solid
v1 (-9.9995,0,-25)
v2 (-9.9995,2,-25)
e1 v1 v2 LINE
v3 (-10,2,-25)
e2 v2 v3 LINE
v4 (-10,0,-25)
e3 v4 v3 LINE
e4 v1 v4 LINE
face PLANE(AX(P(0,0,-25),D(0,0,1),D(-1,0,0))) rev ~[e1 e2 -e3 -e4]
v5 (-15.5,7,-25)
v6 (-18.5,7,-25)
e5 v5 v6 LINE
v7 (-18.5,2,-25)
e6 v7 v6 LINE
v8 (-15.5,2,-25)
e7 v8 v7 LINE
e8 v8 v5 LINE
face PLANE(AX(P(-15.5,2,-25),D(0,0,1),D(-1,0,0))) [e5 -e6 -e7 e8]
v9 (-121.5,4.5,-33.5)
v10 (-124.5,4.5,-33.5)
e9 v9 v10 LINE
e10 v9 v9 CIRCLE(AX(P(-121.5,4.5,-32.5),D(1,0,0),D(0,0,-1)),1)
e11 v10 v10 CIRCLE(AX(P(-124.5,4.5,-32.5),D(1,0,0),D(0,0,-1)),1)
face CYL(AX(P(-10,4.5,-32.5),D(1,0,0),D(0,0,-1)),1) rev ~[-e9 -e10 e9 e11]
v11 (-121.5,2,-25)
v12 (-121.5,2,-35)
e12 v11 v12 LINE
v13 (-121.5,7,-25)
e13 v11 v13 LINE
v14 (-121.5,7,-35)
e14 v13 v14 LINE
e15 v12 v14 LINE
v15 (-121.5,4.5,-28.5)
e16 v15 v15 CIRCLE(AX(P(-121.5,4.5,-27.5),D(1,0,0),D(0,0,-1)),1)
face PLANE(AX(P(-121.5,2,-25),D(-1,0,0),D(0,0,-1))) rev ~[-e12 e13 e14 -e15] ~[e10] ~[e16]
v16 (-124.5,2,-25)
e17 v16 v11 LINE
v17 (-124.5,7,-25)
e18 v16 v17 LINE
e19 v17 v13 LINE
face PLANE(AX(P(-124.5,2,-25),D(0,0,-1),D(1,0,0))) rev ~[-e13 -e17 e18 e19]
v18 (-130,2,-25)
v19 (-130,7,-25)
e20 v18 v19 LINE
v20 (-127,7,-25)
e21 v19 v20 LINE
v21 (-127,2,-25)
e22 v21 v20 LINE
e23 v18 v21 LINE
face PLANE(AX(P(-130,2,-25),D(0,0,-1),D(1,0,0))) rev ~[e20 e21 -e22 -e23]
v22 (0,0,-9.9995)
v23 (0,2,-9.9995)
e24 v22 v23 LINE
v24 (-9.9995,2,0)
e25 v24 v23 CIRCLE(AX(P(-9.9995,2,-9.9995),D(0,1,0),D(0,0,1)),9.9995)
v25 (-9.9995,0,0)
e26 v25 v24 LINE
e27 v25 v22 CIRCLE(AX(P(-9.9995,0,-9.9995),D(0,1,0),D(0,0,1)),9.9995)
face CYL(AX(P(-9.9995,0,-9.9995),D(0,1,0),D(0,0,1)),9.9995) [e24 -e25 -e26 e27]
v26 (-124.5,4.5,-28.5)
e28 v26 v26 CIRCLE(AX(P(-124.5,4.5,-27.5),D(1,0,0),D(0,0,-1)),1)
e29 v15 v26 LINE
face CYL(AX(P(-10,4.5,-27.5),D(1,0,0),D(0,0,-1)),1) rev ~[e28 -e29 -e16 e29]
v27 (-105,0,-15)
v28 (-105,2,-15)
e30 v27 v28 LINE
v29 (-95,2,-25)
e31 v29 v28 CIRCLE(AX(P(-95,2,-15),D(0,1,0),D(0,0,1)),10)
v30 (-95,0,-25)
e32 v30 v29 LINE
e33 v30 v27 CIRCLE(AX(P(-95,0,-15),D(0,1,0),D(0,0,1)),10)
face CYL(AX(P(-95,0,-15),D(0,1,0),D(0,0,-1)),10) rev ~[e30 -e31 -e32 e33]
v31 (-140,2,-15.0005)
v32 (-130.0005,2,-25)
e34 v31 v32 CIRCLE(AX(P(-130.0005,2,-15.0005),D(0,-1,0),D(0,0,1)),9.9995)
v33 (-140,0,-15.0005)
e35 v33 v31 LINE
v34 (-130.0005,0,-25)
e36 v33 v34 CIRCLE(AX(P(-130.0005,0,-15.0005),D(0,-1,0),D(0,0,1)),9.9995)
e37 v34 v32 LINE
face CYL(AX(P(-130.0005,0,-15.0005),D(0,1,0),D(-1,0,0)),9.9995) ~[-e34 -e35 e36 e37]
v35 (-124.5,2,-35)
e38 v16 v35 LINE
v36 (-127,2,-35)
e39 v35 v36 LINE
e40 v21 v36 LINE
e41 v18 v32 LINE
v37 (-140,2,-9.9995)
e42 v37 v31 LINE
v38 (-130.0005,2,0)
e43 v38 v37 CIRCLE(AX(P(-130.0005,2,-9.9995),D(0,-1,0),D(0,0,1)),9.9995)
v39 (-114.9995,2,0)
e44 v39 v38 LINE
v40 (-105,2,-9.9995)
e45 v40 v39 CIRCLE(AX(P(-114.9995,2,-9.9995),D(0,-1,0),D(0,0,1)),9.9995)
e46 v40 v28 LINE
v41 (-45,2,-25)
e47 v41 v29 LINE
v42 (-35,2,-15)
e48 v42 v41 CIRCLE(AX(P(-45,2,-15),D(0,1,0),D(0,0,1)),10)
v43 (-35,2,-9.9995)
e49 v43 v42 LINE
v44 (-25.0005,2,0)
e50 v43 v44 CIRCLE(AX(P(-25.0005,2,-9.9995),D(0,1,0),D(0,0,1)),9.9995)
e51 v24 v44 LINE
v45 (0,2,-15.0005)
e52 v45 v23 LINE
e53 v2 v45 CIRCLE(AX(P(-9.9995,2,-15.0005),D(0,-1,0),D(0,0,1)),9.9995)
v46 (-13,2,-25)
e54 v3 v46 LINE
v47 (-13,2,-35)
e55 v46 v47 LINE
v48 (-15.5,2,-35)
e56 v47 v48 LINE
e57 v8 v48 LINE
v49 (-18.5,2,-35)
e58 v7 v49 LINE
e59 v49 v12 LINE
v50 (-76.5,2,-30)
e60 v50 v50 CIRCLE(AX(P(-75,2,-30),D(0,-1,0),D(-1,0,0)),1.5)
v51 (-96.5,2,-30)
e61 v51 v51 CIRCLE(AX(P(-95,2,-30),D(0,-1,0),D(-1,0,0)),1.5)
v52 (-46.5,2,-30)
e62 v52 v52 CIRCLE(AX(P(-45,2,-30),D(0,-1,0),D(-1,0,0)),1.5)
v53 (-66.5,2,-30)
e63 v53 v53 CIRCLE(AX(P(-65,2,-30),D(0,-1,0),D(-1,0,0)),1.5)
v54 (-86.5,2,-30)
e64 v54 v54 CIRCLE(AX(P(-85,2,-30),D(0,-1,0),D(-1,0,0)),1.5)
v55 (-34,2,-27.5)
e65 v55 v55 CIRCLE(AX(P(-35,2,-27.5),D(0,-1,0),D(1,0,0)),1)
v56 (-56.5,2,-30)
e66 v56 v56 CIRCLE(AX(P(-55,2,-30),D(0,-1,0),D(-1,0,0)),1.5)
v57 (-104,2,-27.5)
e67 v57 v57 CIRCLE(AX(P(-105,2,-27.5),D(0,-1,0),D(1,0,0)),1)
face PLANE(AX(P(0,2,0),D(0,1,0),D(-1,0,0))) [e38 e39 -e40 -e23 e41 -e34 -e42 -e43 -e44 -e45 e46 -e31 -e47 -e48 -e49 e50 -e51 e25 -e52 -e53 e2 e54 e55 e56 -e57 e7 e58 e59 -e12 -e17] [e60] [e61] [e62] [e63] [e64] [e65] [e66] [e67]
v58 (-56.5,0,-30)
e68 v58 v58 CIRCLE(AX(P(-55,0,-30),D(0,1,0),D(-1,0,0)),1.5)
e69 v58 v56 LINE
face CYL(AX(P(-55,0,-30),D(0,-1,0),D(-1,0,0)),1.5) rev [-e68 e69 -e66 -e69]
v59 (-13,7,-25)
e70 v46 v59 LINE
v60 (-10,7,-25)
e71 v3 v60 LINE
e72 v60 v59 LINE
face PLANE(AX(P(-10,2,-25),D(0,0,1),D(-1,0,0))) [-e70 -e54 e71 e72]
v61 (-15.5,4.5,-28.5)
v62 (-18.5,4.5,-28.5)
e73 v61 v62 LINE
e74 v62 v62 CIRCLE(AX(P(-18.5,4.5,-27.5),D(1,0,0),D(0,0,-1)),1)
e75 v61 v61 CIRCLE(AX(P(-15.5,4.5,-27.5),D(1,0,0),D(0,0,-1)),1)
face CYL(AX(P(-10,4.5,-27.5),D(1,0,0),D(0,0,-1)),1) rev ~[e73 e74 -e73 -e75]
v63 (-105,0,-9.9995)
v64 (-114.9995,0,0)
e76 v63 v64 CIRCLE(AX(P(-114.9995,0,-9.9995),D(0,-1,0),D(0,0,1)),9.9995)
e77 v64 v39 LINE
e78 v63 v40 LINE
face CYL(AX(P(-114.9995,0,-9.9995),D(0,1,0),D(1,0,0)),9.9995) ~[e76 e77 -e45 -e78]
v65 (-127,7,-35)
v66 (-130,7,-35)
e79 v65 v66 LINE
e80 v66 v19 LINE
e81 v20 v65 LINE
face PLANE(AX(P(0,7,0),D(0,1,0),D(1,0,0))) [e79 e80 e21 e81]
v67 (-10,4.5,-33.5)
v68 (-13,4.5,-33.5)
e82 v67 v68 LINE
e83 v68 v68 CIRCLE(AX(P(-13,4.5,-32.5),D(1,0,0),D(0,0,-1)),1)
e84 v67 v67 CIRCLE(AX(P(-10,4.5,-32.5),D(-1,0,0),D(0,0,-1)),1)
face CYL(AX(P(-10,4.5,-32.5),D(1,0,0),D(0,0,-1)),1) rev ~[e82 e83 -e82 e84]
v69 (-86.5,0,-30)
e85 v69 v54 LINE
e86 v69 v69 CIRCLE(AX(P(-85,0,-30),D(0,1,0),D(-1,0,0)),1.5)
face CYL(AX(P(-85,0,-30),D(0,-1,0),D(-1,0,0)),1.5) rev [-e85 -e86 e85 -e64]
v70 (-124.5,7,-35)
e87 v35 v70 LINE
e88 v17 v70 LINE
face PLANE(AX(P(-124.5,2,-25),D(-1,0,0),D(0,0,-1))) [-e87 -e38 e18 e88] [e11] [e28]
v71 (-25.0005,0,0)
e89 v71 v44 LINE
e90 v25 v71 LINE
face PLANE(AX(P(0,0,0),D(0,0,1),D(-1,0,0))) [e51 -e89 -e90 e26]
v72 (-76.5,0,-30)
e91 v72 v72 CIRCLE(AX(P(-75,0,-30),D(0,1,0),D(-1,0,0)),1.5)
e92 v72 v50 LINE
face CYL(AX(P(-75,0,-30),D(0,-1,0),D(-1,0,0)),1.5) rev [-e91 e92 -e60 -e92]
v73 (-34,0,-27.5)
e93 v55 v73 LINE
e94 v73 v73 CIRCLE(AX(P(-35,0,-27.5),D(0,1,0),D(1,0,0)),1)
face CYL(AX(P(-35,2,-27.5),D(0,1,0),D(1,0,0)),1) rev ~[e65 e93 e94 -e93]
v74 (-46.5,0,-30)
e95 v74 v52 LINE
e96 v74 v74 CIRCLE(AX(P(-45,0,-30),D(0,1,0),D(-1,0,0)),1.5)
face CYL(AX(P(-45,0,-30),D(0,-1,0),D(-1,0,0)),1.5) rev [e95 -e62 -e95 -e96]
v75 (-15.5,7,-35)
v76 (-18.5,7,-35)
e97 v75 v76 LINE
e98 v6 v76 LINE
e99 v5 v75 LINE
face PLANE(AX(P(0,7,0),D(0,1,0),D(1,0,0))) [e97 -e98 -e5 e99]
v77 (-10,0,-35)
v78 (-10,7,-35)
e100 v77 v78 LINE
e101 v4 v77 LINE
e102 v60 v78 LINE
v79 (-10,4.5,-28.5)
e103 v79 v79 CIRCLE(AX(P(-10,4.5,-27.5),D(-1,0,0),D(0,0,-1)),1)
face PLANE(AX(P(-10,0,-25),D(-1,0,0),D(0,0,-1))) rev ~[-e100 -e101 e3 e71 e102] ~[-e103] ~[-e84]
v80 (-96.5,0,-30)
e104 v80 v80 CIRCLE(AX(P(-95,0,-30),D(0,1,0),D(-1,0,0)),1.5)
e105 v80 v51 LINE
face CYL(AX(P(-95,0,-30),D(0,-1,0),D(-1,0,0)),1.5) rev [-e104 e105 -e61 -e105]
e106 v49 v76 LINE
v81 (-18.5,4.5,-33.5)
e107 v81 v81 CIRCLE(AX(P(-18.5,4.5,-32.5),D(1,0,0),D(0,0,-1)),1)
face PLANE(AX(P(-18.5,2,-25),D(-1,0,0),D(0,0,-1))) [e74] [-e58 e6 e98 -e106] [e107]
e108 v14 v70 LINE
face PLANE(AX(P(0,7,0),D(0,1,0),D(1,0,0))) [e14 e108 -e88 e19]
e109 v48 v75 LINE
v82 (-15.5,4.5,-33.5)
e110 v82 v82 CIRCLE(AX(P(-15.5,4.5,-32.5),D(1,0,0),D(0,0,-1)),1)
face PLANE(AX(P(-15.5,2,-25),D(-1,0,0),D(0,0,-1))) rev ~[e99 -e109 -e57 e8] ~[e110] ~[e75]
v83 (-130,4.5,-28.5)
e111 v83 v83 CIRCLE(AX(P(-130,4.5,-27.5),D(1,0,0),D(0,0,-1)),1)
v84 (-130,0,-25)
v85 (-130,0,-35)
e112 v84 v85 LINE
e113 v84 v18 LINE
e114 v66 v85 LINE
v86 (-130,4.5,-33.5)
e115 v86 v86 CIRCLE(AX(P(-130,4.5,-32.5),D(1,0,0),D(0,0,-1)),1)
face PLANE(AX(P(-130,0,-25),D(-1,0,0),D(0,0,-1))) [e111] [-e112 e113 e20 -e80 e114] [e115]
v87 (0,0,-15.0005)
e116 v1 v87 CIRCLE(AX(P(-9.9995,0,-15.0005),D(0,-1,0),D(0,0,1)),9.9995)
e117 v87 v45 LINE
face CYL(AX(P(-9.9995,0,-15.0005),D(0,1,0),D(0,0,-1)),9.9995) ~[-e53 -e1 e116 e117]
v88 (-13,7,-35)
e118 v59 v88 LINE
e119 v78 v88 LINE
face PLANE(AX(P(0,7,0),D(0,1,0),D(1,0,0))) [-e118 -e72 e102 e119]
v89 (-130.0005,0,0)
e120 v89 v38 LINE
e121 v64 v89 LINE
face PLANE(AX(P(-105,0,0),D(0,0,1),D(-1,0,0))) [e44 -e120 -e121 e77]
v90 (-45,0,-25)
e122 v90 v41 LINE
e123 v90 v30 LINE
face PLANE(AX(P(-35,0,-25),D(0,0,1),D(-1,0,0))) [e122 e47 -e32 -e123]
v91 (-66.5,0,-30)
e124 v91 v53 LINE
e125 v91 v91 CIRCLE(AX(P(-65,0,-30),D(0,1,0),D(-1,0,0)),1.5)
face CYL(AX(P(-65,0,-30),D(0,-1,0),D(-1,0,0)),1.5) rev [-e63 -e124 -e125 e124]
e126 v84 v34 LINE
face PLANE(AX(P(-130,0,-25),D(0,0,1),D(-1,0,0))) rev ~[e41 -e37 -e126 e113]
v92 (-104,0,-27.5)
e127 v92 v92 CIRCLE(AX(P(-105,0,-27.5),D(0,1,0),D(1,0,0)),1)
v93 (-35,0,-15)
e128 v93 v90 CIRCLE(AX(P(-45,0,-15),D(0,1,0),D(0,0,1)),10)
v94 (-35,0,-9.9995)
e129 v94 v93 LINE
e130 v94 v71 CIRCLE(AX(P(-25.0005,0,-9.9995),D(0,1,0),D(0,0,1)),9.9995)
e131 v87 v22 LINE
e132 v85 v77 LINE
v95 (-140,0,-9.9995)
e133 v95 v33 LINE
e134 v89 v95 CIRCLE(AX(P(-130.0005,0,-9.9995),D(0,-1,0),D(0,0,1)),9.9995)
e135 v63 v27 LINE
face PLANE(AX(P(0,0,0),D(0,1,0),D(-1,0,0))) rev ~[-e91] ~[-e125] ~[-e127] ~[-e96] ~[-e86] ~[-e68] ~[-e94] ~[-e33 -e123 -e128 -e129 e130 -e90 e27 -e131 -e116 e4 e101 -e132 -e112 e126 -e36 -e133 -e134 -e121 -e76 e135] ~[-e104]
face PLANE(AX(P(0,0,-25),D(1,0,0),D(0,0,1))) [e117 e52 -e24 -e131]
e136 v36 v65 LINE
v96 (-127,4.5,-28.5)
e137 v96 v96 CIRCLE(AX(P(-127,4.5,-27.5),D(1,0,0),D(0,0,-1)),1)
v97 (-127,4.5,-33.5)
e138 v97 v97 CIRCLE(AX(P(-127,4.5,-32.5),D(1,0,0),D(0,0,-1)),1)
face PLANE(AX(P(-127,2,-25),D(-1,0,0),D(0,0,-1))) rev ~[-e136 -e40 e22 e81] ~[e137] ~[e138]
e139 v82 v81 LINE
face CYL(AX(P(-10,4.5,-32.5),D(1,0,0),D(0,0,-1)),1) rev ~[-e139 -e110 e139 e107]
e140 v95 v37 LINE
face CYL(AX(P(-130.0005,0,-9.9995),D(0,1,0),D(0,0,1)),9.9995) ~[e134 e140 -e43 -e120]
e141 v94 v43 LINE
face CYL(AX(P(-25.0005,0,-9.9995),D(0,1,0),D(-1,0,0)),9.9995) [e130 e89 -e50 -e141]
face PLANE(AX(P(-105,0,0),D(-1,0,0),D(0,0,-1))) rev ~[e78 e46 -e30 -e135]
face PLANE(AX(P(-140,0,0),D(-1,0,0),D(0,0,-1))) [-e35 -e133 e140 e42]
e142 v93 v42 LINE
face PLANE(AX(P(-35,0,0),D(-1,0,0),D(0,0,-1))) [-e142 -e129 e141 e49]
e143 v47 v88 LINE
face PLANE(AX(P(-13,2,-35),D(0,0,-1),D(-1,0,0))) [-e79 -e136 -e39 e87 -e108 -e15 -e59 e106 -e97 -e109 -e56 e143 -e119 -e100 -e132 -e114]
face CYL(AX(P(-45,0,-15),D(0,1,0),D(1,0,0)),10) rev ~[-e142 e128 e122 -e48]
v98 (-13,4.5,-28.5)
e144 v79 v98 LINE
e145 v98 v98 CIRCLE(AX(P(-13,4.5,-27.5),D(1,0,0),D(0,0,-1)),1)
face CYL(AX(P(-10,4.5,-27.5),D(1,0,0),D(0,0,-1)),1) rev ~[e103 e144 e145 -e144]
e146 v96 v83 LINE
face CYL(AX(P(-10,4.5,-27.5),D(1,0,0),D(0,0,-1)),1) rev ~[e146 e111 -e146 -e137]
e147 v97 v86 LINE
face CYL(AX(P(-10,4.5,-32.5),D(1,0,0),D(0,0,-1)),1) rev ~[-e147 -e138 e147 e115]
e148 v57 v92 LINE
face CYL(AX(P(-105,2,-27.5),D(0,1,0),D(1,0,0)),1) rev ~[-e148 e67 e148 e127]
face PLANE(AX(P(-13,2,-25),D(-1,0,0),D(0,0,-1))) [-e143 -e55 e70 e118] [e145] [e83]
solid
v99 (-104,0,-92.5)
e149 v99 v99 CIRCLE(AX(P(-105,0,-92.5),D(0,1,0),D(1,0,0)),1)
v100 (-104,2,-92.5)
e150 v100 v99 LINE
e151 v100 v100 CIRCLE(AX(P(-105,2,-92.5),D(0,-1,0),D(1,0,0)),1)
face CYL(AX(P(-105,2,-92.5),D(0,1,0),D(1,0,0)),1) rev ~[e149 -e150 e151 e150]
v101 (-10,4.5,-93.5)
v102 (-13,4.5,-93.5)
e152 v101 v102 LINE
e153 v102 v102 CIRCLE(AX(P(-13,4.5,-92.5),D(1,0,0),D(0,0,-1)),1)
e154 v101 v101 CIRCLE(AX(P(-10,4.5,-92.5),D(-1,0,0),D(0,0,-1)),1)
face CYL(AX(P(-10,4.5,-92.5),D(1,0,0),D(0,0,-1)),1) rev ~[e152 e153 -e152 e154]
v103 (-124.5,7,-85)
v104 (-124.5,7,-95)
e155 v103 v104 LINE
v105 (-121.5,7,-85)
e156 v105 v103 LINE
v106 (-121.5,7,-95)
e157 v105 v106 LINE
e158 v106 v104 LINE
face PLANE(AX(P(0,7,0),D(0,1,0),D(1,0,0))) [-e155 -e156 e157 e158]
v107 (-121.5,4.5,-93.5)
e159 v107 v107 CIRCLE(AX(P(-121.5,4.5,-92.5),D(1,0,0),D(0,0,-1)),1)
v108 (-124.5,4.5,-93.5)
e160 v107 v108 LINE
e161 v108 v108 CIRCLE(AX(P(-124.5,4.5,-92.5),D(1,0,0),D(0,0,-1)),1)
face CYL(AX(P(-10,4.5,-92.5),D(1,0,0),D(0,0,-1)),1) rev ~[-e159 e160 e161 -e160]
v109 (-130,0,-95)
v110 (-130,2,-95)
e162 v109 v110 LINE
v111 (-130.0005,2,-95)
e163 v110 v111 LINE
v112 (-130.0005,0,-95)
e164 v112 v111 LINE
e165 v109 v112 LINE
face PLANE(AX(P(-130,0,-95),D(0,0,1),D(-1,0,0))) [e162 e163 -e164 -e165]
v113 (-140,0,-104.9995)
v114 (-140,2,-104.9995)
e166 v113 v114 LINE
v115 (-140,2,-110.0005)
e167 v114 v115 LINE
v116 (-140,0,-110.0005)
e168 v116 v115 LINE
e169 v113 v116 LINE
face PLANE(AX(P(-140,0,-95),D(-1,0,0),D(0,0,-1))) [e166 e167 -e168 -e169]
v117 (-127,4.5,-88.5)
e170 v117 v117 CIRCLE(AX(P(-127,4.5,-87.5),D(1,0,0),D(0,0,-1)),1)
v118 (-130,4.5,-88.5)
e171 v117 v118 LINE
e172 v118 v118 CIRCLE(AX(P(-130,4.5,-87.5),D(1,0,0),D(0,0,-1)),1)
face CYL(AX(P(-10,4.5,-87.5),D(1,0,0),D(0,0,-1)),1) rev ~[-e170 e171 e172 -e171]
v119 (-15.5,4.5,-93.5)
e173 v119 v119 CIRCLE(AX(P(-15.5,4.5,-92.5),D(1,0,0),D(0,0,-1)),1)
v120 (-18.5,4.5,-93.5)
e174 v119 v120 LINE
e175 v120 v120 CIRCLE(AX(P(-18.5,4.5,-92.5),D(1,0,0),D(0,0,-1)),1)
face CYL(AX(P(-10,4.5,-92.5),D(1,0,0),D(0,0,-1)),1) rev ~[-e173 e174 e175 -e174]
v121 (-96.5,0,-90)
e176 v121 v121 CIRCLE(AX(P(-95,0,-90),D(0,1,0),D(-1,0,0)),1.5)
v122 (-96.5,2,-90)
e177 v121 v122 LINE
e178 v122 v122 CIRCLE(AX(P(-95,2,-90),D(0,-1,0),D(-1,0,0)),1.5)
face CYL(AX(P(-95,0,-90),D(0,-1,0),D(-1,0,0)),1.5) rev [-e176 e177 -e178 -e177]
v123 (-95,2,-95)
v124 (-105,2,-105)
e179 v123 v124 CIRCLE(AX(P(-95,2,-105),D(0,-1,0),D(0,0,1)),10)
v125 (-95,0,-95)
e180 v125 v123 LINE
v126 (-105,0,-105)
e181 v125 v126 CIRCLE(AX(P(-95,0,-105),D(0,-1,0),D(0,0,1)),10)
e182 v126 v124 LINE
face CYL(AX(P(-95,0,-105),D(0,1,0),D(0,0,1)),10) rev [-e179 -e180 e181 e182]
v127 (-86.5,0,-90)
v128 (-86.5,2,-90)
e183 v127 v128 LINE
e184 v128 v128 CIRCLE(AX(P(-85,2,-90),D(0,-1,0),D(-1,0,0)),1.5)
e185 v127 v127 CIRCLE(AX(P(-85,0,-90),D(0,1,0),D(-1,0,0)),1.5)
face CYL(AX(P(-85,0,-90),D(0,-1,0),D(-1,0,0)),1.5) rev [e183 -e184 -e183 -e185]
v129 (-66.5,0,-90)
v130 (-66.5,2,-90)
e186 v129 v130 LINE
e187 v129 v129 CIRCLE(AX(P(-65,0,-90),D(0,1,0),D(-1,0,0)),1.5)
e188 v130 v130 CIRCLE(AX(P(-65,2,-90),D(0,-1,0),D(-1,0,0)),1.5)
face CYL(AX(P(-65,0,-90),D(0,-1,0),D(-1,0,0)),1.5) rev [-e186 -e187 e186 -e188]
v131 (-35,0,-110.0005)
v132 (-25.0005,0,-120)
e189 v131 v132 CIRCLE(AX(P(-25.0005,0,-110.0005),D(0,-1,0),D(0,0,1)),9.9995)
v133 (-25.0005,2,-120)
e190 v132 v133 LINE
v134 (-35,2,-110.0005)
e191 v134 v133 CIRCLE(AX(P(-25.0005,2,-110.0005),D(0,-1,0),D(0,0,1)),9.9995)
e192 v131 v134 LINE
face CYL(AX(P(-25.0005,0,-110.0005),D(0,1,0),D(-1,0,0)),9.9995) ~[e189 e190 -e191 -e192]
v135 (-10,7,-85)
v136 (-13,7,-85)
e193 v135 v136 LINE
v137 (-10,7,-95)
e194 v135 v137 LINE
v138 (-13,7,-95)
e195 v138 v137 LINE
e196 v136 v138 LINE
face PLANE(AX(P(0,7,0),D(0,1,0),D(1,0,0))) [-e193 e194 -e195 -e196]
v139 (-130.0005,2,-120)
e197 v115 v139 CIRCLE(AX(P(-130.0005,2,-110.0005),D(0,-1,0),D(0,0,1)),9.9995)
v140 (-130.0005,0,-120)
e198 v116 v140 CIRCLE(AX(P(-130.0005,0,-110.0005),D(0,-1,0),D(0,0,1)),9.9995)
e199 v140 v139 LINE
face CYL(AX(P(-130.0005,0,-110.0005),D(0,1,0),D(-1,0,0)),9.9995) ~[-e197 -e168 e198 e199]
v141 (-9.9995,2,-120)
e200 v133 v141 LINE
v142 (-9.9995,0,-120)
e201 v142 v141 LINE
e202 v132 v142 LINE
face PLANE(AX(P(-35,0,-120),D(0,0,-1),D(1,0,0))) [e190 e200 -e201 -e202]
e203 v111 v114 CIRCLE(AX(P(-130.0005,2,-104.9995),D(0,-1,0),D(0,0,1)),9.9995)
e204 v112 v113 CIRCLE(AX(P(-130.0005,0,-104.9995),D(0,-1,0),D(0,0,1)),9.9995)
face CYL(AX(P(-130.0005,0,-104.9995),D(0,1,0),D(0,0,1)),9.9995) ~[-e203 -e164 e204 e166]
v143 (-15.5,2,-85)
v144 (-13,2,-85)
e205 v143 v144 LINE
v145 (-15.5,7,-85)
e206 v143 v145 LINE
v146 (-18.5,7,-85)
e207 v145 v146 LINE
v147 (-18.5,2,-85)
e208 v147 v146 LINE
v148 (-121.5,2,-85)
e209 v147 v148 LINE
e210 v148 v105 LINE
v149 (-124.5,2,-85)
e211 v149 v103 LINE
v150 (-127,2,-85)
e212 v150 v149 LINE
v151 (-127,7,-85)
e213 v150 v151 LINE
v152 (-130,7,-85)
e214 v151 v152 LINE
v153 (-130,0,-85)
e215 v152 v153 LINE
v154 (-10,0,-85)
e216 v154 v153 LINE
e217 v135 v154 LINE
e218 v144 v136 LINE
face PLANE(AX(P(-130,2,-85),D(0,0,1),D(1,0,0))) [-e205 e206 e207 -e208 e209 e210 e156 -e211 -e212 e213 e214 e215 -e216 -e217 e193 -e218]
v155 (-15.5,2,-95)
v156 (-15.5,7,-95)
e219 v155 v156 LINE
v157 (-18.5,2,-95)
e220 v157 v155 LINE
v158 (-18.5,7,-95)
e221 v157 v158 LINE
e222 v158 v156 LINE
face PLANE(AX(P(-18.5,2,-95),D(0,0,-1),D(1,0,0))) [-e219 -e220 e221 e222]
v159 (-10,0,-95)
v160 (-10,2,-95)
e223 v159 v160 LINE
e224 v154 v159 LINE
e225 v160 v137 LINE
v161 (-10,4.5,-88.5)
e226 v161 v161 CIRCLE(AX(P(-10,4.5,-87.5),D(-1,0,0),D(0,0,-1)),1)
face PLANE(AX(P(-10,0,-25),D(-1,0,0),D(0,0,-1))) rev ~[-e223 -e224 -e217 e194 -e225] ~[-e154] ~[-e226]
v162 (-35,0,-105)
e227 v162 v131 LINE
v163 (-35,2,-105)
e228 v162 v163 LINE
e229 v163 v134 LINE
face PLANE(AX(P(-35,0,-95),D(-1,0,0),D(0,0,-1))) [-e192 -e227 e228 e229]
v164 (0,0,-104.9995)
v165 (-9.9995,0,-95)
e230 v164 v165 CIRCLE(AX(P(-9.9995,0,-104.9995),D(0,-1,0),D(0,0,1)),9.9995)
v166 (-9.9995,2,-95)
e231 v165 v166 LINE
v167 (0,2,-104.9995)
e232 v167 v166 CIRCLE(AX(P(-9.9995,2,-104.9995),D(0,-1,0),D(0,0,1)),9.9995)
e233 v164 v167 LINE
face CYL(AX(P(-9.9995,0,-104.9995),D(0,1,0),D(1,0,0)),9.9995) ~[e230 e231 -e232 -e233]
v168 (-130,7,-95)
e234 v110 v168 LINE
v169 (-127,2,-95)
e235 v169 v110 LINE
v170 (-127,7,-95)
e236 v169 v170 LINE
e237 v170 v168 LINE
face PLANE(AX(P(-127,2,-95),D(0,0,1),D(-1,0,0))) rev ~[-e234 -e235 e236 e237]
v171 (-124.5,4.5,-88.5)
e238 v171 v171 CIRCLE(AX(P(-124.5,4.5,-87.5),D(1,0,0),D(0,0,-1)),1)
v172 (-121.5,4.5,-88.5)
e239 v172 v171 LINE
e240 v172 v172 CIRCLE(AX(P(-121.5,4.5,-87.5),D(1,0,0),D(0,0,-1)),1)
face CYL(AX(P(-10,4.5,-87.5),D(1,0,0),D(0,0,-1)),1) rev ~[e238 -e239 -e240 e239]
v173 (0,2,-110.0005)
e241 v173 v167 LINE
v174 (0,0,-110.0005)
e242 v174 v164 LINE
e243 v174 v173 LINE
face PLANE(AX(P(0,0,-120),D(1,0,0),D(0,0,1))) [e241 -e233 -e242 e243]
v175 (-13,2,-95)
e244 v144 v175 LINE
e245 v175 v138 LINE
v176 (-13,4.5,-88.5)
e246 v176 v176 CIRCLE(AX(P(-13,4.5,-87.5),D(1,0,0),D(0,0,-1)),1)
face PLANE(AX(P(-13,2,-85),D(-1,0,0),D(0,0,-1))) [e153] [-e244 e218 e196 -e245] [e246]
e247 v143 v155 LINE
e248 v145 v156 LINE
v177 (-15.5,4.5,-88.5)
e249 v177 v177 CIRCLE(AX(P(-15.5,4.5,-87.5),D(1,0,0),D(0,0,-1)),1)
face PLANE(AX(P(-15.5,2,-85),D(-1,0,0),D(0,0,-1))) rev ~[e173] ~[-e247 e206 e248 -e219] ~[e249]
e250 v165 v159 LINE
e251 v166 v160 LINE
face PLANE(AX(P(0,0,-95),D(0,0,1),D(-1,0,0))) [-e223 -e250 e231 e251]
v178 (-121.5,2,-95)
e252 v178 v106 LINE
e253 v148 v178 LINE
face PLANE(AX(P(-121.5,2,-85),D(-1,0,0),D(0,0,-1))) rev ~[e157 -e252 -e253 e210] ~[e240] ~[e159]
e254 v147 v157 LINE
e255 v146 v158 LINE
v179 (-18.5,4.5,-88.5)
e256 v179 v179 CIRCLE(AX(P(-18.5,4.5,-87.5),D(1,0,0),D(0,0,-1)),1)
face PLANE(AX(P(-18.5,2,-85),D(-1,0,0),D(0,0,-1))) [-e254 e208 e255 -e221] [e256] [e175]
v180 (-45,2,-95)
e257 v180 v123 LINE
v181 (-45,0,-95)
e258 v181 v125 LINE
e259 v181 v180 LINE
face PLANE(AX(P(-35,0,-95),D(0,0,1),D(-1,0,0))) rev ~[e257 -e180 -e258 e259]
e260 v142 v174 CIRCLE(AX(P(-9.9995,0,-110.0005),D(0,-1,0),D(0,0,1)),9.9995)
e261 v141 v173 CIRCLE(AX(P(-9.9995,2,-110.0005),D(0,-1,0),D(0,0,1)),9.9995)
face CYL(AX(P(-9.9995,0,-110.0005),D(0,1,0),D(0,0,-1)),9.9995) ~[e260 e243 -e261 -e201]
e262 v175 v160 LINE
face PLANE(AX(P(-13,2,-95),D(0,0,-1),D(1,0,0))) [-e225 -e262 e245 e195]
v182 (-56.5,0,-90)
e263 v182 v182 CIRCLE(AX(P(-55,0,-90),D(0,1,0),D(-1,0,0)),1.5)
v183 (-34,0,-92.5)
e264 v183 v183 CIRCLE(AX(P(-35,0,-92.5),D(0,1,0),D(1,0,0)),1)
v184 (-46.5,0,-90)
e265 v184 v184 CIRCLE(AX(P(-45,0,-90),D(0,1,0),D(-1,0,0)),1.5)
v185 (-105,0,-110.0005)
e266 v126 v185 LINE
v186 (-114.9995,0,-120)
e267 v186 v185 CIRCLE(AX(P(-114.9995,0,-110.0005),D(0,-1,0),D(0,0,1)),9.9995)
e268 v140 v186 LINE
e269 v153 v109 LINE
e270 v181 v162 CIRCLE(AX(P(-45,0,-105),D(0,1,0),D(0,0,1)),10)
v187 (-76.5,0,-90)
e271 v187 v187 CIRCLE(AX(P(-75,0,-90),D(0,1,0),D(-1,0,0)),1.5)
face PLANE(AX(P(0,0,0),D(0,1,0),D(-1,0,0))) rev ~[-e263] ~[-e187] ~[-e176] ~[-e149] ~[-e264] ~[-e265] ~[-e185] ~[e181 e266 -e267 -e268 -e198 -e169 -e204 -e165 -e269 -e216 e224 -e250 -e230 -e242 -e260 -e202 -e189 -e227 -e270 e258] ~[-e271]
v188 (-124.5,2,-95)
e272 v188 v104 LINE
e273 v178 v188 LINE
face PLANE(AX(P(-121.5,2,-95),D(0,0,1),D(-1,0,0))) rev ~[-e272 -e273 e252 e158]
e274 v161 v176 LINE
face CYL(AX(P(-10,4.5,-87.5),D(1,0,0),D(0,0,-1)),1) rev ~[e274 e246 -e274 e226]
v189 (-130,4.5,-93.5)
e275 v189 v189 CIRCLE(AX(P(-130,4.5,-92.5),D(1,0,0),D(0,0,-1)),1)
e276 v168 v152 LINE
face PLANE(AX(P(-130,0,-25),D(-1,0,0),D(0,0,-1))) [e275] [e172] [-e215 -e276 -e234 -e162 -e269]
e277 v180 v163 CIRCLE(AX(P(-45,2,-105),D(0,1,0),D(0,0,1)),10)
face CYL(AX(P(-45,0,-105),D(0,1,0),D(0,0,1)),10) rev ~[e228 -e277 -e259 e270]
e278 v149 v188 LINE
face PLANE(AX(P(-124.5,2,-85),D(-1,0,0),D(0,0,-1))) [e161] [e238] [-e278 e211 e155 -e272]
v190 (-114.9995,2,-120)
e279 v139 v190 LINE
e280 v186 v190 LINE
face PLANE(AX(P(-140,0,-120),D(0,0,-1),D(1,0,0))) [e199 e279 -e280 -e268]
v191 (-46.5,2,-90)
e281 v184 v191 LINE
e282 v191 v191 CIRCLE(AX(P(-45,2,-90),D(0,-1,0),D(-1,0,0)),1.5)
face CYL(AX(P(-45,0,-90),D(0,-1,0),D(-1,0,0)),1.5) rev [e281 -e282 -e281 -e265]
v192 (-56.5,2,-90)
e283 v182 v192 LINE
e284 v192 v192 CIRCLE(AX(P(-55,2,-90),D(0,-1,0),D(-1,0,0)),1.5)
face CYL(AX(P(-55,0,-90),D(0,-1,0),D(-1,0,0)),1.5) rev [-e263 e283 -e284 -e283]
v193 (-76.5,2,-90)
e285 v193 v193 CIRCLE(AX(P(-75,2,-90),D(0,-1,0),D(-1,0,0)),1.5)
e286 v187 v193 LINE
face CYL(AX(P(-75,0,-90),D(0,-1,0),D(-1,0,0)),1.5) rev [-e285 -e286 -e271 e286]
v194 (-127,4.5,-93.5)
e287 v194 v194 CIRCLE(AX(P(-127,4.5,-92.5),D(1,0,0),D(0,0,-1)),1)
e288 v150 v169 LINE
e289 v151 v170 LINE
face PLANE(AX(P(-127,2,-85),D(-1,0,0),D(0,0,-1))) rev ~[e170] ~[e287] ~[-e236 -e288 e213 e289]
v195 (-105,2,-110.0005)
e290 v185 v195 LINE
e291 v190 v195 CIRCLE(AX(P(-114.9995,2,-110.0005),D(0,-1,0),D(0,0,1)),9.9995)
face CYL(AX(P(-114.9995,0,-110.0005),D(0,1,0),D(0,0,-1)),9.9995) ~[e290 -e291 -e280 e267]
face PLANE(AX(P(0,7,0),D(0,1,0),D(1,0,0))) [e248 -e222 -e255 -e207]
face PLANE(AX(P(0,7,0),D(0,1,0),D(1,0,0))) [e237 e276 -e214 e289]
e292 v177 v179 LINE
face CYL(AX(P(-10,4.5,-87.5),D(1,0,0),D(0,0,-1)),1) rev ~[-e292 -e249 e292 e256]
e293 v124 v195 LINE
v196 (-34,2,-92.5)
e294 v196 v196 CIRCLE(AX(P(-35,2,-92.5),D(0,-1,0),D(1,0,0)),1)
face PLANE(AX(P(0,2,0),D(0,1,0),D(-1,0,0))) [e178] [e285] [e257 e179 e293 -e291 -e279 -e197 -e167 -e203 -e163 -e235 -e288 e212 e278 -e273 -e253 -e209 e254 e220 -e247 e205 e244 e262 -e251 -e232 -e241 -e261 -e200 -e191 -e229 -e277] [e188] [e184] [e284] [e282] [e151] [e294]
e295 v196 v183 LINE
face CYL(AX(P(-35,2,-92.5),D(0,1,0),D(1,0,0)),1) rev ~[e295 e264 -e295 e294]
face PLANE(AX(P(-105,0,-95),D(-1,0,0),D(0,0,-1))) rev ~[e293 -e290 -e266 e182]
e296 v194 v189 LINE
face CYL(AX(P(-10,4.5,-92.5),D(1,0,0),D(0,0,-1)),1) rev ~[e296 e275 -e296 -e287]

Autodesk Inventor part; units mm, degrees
ref_plane "YZ Plane" through (0, 0, 0) normal (1, 0, 0) x (0, 1, 0)
ref_plane "XZ Plane" through (0, 0, 0) normal (0, 1, 0) x (-1, 0, 0)
ref_plane "XY Plane" through (0, 0, 0) normal (0, 0, 1) x (1, 0, 0)
sketch "Sketch1" plane through (0, 0, 0) normal (0, 1, 0) x (-1, 0, 0)
  line L0 (0, 0) -> (140, 0)
  line L1 (140, 0) -> (140, -120)
  line L2 (140, -120) -> (0, -120)
  line L3 (0, -120) -> (0, 0)
  line L4 (140, 0) -> (0, 0)
  line L5 (0, 0) -> (0, -25)
  line L6 (0, -25) -> (140, -25)
  line L7 (140, -25) -> (140, 0)
  line L8 (140, -120) -> (0, -120)
  line L9 (0, -120) -> (0, -95)
  line L10 (0, -95) -> (140, -95)
  line L11 (140, -95) -> (140, -120)
  line L12 (140, -25) -> (130, -25)
  line L13 (130, -25) -> (130, -95)
  line L14 (130, -95) -> (140, -95)
  line L15 (140, -95) -> (140, -25)
  line L16 (0, -25) -> (10, -25)
  line L17 (10, -25) -> (10, -95)
  line L18 (10, -95) -> (0, -95)
  line L19 (0, -95) -> (0, -25)
  line L20 (130, -25) -> (115, -25)
  line L21 (115, -25) -> (115, -95)
  line L22 (115, -95) -> (130, -95)
  line L23 (130, -95) -> (130, -25)
  line L24 (10, -95) -> (25, -95)
  line L25 (25, -95) -> (25, -25)
  line L26 (25, -25) -> (10, -25)
  line L27 (10, -25) -> (10, -95)
  line L28 (115, -25) -> (25, -25)
  line L29 (25, -25) -> (25, -35)
  line L30 (25, -35) -> (115, -35)
  line L31 (115, -35) -> (115, -25)
  line L32 (115, -95) -> (25, -95)
  line L33 (25, -95) -> (25, -85)
  line L34 (25, -85) -> (115, -85)
  line L35 (115, -85) -> (115, -95)
  line L36 (115, -30) -> (25, -30)
  line L37 (115, -90) -> (25, -90)
  line L38 (115, -30) -> (105, -30)
  line L39 (105, -30) -> (95, -30)
  line L40 (95, -30) -> (85, -30)
  line L41 (85, -30) -> (75, -30)
  line L42 (75, -30) -> (65, -30)
  line L43 (65, -30) -> (55, -30)
  line L44 (55, -30) -> (45, -30)
  line L45 (45, -30) -> (35, -30)
  line L46 (115, -90) -> (105, -90)
  line L47 (105, -90) -> (95, -90)
  line L48 (95, -90) -> (85, -90)
  line L49 (85, -90) -> (75, -90)
  line L50 (75, -90) -> (65, -90)
  line L51 (65, -90) -> (55, -90)
  line L52 (55, -90) -> (45, -90)
  line L53 (45, -90) -> (35, -90)
  line L54 (35, -90) -> (25, -90)
  circle A0 centre (105, -30) radius 1.5
  circle A1 centre (95, -30) radius 1.5
  circle A2 centre (85, -30) radius 1.5
  circle A3 centre (75, -30) radius 1.5
  circle A4 centre (65, -30) radius 1.5
  circle A5 centre (55, -30) radius 1.5
  circle A6 centre (45, -30) radius 1.5
  circle A7 centre (35, -30) radius 1.5
  circle A8 centre (105, -90) radius 1.5
  circle A9 centre (95, -90) radius 1.5
  circle A10 centre (85, -90) radius 1.5
  circle A11 centre (75, -90) radius 1.5
  circle A12 centre (65, -90) radius 1.5
  circle A13 centre (55, -90) radius 1.5
  circle A14 centre (45, -90) radius 1.5
  circle A15 centre (35, -90) radius 1.5
  line L55 (140, 0) -> (105, 0)
  line L56 (105, 0) -> (105, -25)
  line L57 (105, -25) -> (140, -25)
  line L58 (140, -25) -> (140, 0)
  line L59 (140, -95) -> (105, -95)
  line L60 (105, -95) -> (105, -120)
  line L61 (105, -120) -> (140, -120)
  line L62 (140, -120) -> (140, -95)
  line L63 (0, 0) -> (35, 0)
  line L64 (35, 0) -> (35, -25)
  line L65 (35, -25) -> (0, -25)
  line L66 (0, -25) -> (0, 0)
  line L67 (0, -95) -> (35, -95)
  line L68 (35, -95) -> (35, -120)
  line L69 (35, -120) -> (0, -120)
  line L70 (0, -120) -> (0, -95)
  dimension "d0" = 140
  dimension "d1" = 120
  dimension "d2" = 25
  dimension "d3" = 25
  dimension "d4" = 10
  dimension "d5" = 10
  dimension "d6" = 15
  dimension "d7" = 15
  dimension "d8" = 10
  dimension "d9" = 10
  dimension "d10" = 10
  dimension "d11" = 10
  dimension "d12" = 10
  dimension "d13" = 10
  dimension "d14" = 10
  dimension "d15" = 10
  dimension "d16" = 10
  dimension "d17" = 10
  dimension "d18" = 10
  dimension "d19" = 10
  dimension "d20" = 10
  dimension "d21" = 10
  dimension "d22" = 10
  dimension "d23" = 10
  dimension "d24" = 10
  dimension "d25" = 10
  dimension "d26" = 10
  dimension "d27" = 3
  dimension "d28" = 3
  dimension "d29" = 3
  dimension "d30" = 3
  dimension "d31" = 3
  dimension "d32" = 3
  dimension "d33" = 3
  dimension "d34" = 3
  dimension "d35" = 3
  dimension "d36" = 3
  dimension "d37" = 3
  dimension "d38" = 3
  dimension "d39" = 3
  dimension "d40" = 3
  dimension "d41" = 3
  dimension "d42" = 3
  dimension "d43" = 35
  dimension "d44" = 35
  dimension "d45" = 35
  dimension "d46" = 35
extrude "Extrusion1" add sketch "Sketch1" along normal blind 2 contours L0 L64 L6 L3 | L0 L1 L6 L56 | L6 L21 L36 A0 A1 A2 A3 A4 A5 A6 A7 L25 | L10 L68 L2 L3 | L6 L25 L10 L17 | L6 L13 L10 L21 | L36 A7 A6 A5 A4 A3 A2 A1 A0 L21 L30 L25 | L25 L37 A15 A14 A13 A12 A11 A10 A9 A8 L21 L10 | L1 L2 L60 L10 | A7 L36 | L36 A7 | L25 L34 L21 L37 A8 A9 A10 A11 A12 A13 A14 A15 | A0 L36 | L36 A0 | A15 L37 | L37 A15 | A8 L37 | L37 A8
fillet "Fillet1" radius 10 8 edges at (-105, 1, -25) (-115, 1, -85) (-25, 1, -85) (-25, 1, -35) (-115, 1, -35) (-35, 1, -95) (-105, 1, -95) (-35, 1, -25)
sketch "Sketch2" plane through (0, 2, 0) normal (0, 1, 0) x (1, 0, 0)
  line L0 (-130, 95) -> (-130, 25) projected
  line L1 (-130, 25) -> (-127, 25)
  line L2 (-127, 25) -> (-127, 95)
  line L3 (-127, 95) -> (-130, 95)
  line L4 (-130, 95) -> (-130, 25)
  line L5 (-127, 25) -> (-124.5, 25)
  line L6 (-124.5, 25) -> (-124.5, 95)
  line L7 (-124.5, 95) -> (-127, 95)
  line L8 (-127, 95) -> (-127, 25)
  line L9 (-124.5, 25) -> (-121.5, 25)
  line L10 (-121.5, 25) -> (-121.5, 95)
  line L11 (-121.5, 95) -> (-124.5, 95)
  line L12 (-124.5, 95) -> (-124.5, 25)
  line L13 (-10, 25) -> (-10, 95) projected
  line L14 (-10, 25) -> (-13, 25)
  line L15 (-13, 25) -> (-13, 95)
  line L16 (-13, 95) -> (-10, 95)
  line L17 (-10, 95) -> (-10, 25)
  line L18 (-13, 25) -> (-15.5, 25)
  line L19 (-15.5, 25) -> (-15.5, 95)
  line L20 (-15.5, 95) -> (-13, 95)
  line L21 (-13, 95) -> (-13, 25)
  line L22 (-15.5, 25) -> (-18.5, 25)
  line L23 (-18.5, 25) -> (-18.5, 95)
  line L24 (-18.5, 95) -> (-15.5, 95)
  line L25 (-15.5, 95) -> (-15.5, 25)
  line L26 (-130, 25) -> (-121.5, 25)
  line L27 (-121.5, 25) -> (-121.5, 35)
  line L28 (-121.5, 35) -> (-130, 35)
  line L29 (-130, 35) -> (-130, 25)
  line L30 (-130, 95) -> (-121.5, 95)
  line L31 (-121.5, 95) -> (-121.5, 85)
  line L32 (-121.5, 85) -> (-130, 85)
  line L33 (-130, 85) -> (-130, 95)
  line L34 (-18.5, 25) -> (-10, 25)
  line L35 (-10, 25) -> (-10, 35)
  line L36 (-10, 35) -> (-18.5, 35)
  line L37 (-18.5, 35) -> (-18.5, 25)
  line L38 (-18.5, 95) -> (-10, 95)
  line L39 (-10, 95) -> (-10, 85)
  line L40 (-10, 85) -> (-18.5, 85)
  line L41 (-18.5, 85) -> (-18.5, 95)
  line L42 (-130, 25) -> (-127, 25)
  line L43 (-127, 25) -> (-127, 35)
  line L44 (-127, 35) -> (-130, 35)
  line L45 (-130, 35) -> (-130, 25)
  line L46 (-18.5, 25) -> (-15.5, 25)
  line L47 (-15.5, 25) -> (-15.5, 35)
  line L48 (-15.5, 35) -> (-18.5, 35)
  line L49 (-18.5, 35) -> (-18.5, 25)
  point P0 (0, 0)
  point P1 (-124.5, 35)
  point P2 (-124.5, 85)
  point P3 (-127, 85)
  point P4 (-13, 35)
  point P5 (-13, 85)
  point P6 (-15.5, 85)
  dimension "d50" = 3
  dimension "d51" = 2.5
  dimension "d52" = 3
  dimension "d53" = 3
  dimension "d54" = 2.5
  dimension "d55" = 3
  dimension "d56" = 10
  dimension "d57" = 10
  dimension "d58" = 10
  dimension "d59" = 10
extrude "Extrusion2" add sketch "Sketch2" along normal blind 5 contours L3 L2 L32 L0 | L28 L2 L1 L0 | L11 L10 L32 L6 | L28 L10 L9 L6 | L14 L15 L36 L13 | L40 L15 L16 L13 | L22 L23 L36 L19 | L40 L23 L24 L19
sketch "Sketch3" plane through (-10, 0, -25) normal (1, 0, 0) x (0, 0, -1)
  line L0 (0, 7) -> (10, 7) projected
  line L1 (0, 7) -> (2.5, 7)
  line L2 (2.5, 7) -> (2.5, 4.5)
  line L3 (2.5, 4.5) -> (0, 4.5)
  line L4 (0, 4.5) -> (0, 7)
  line L5 (2.5, 4.5) -> (7.5, 4.5)
  circle A0 centre (2.5, 4.5) radius 1
  circle A1 centre (7.5, 4.5) radius 1
  line L6 (60, 7) -> (70, 7) projected
  line L7 (60, 7) -> (62.5, 7)
  line L8 (62.5, 7) -> (62.5, 4.5)
  line L9 (62.5, 4.5) -> (60, 4.5)
  line L10 (60, 4.5) -> (60, 7)
  line L11 (62.5, 4.5) -> (67.5, 4.5)
  circle A2 centre (67.5, 4.5) radius 1
  circle A3 centre (62.5, 4.5) radius 1
  point P0 (-25, 0)
  dimension "d62" = 2.5
  dimension "d63" = 2.5
  dimension "d64" = 5
  dimension "d65" = 2
  dimension "d66" = 2
  dimension "d67" = 2.5
  dimension "d68" = 2.5
  dimension "d69" = 5
  dimension "d70" = 2
  dimension "d71" = 2
extrude "Extrusion3" cut sketch "Sketch3" against normal up to surface (120 mm away) contours A1 | A0 L5 L2 | L2 L3 A0 | L3 L5 A0 | A2 | A3 L11 L8 | L8 L9 A3 | L9 L11 A3
sketch "Sketch4" plane through (0, 2, 0) normal (0, 1, 0) x (1, 0, 0)
  line L0 (0, 95) -> (0, 120) projected
  line L1 (0, 120) -> (-35, 120)
  line L2 (-35, 120) -> (-35, 92.5)
  line L3 (-35, 92.5) -> (0, 92.5)
  line L4 (0, 92.5) -> (0, 120)
  line L5 (-35, 0) -> (0, 0) projected
  line L6 (0, 0) -> (-35, 0)
  line L7 (-35, 0) -> (-35, 27.5)
  line L8 (-35, 27.5) -> (0, 27.5)
  line L9 (0, 27.5) -> (0, 0)
  line L10 (-140, 120) -> (-140, 95) projected
  line L11 (-140, 120) -> (-105, 120)
  line L12 (-105, 120) -> (-105, 92.5)
  line L13 (-105, 92.5) -> (-140, 92.5)
  line L14 (-140, 92.5) -> (-140, 120)
  line L15 (-140, 0) -> (-105, 0)
  line L16 (-105, 0) -> (-105, 27.5)
  line L17 (-105, 27.5) -> (-140, 27.5)
  line L18 (-140, 27.5) -> (-140, 0)
  circle A0 centre (-105, 27.5) radius 1
  circle A1 centre (-35, 27.5) radius 1
  circle A2 centre (-35, 92.5) radius 1
  circle A3 centre (-105, 92.5) radius 1
  dimension "d74" = 35
  dimension "d75" = 27.5
  dimension "d76" = 35
  dimension "d77" = 27.5
  dimension "d78" = 35
  dimension "d79" = 27.5
  dimension "d80" = 35
  dimension "d81" = 27.5
  dimension "d82" = 2
  dimension "d83" = 2
  dimension "d84" = 2
  dimension "d85" = 2
extrude "Extrusion4" cut sketch "Sketch4" against normal blind 10 contours A2 L2 L3 | L3 L2 A2 | A1 L8 L7 | L7 L8 A1 | A3 L13 L12 | L12 L13 A3 | A0 L17 L16 | L16 L17 A0
sketch "Sketch5" plane through (0, 2, 0) normal (0, 1, 0) x (1, 0, 0)
  line L0 (-130, 85) -> (-130, 35) projected
  line L1 (-10, 35) -> (-13, 35) projected
  line L2 (-130, 85) -> (-10, 85)
  line L3 (-10, 85) -> (-10, 35)
  line L4 (-10, 35) -> (-130, 35)
  line L5 (-130, 35) -> (-130, 85)
  point P0 (0, 0)
extrude "Extrusion5" cut sketch "Sketch5" against normal blind 10
fillet "Fillet2" radius 10 12 edges at (-140, 1, 0) (0, 1, 0) (0, 1, -120) (-140, 1, -120) (-140, 1, -95) (-105, 1, -120) (-35, 1, -120) (0, 1, -95) (0, 1, -25) (-35, 1, 0) (-105, 1, 0) (-140, 1, -25)
properties part number "base2"
